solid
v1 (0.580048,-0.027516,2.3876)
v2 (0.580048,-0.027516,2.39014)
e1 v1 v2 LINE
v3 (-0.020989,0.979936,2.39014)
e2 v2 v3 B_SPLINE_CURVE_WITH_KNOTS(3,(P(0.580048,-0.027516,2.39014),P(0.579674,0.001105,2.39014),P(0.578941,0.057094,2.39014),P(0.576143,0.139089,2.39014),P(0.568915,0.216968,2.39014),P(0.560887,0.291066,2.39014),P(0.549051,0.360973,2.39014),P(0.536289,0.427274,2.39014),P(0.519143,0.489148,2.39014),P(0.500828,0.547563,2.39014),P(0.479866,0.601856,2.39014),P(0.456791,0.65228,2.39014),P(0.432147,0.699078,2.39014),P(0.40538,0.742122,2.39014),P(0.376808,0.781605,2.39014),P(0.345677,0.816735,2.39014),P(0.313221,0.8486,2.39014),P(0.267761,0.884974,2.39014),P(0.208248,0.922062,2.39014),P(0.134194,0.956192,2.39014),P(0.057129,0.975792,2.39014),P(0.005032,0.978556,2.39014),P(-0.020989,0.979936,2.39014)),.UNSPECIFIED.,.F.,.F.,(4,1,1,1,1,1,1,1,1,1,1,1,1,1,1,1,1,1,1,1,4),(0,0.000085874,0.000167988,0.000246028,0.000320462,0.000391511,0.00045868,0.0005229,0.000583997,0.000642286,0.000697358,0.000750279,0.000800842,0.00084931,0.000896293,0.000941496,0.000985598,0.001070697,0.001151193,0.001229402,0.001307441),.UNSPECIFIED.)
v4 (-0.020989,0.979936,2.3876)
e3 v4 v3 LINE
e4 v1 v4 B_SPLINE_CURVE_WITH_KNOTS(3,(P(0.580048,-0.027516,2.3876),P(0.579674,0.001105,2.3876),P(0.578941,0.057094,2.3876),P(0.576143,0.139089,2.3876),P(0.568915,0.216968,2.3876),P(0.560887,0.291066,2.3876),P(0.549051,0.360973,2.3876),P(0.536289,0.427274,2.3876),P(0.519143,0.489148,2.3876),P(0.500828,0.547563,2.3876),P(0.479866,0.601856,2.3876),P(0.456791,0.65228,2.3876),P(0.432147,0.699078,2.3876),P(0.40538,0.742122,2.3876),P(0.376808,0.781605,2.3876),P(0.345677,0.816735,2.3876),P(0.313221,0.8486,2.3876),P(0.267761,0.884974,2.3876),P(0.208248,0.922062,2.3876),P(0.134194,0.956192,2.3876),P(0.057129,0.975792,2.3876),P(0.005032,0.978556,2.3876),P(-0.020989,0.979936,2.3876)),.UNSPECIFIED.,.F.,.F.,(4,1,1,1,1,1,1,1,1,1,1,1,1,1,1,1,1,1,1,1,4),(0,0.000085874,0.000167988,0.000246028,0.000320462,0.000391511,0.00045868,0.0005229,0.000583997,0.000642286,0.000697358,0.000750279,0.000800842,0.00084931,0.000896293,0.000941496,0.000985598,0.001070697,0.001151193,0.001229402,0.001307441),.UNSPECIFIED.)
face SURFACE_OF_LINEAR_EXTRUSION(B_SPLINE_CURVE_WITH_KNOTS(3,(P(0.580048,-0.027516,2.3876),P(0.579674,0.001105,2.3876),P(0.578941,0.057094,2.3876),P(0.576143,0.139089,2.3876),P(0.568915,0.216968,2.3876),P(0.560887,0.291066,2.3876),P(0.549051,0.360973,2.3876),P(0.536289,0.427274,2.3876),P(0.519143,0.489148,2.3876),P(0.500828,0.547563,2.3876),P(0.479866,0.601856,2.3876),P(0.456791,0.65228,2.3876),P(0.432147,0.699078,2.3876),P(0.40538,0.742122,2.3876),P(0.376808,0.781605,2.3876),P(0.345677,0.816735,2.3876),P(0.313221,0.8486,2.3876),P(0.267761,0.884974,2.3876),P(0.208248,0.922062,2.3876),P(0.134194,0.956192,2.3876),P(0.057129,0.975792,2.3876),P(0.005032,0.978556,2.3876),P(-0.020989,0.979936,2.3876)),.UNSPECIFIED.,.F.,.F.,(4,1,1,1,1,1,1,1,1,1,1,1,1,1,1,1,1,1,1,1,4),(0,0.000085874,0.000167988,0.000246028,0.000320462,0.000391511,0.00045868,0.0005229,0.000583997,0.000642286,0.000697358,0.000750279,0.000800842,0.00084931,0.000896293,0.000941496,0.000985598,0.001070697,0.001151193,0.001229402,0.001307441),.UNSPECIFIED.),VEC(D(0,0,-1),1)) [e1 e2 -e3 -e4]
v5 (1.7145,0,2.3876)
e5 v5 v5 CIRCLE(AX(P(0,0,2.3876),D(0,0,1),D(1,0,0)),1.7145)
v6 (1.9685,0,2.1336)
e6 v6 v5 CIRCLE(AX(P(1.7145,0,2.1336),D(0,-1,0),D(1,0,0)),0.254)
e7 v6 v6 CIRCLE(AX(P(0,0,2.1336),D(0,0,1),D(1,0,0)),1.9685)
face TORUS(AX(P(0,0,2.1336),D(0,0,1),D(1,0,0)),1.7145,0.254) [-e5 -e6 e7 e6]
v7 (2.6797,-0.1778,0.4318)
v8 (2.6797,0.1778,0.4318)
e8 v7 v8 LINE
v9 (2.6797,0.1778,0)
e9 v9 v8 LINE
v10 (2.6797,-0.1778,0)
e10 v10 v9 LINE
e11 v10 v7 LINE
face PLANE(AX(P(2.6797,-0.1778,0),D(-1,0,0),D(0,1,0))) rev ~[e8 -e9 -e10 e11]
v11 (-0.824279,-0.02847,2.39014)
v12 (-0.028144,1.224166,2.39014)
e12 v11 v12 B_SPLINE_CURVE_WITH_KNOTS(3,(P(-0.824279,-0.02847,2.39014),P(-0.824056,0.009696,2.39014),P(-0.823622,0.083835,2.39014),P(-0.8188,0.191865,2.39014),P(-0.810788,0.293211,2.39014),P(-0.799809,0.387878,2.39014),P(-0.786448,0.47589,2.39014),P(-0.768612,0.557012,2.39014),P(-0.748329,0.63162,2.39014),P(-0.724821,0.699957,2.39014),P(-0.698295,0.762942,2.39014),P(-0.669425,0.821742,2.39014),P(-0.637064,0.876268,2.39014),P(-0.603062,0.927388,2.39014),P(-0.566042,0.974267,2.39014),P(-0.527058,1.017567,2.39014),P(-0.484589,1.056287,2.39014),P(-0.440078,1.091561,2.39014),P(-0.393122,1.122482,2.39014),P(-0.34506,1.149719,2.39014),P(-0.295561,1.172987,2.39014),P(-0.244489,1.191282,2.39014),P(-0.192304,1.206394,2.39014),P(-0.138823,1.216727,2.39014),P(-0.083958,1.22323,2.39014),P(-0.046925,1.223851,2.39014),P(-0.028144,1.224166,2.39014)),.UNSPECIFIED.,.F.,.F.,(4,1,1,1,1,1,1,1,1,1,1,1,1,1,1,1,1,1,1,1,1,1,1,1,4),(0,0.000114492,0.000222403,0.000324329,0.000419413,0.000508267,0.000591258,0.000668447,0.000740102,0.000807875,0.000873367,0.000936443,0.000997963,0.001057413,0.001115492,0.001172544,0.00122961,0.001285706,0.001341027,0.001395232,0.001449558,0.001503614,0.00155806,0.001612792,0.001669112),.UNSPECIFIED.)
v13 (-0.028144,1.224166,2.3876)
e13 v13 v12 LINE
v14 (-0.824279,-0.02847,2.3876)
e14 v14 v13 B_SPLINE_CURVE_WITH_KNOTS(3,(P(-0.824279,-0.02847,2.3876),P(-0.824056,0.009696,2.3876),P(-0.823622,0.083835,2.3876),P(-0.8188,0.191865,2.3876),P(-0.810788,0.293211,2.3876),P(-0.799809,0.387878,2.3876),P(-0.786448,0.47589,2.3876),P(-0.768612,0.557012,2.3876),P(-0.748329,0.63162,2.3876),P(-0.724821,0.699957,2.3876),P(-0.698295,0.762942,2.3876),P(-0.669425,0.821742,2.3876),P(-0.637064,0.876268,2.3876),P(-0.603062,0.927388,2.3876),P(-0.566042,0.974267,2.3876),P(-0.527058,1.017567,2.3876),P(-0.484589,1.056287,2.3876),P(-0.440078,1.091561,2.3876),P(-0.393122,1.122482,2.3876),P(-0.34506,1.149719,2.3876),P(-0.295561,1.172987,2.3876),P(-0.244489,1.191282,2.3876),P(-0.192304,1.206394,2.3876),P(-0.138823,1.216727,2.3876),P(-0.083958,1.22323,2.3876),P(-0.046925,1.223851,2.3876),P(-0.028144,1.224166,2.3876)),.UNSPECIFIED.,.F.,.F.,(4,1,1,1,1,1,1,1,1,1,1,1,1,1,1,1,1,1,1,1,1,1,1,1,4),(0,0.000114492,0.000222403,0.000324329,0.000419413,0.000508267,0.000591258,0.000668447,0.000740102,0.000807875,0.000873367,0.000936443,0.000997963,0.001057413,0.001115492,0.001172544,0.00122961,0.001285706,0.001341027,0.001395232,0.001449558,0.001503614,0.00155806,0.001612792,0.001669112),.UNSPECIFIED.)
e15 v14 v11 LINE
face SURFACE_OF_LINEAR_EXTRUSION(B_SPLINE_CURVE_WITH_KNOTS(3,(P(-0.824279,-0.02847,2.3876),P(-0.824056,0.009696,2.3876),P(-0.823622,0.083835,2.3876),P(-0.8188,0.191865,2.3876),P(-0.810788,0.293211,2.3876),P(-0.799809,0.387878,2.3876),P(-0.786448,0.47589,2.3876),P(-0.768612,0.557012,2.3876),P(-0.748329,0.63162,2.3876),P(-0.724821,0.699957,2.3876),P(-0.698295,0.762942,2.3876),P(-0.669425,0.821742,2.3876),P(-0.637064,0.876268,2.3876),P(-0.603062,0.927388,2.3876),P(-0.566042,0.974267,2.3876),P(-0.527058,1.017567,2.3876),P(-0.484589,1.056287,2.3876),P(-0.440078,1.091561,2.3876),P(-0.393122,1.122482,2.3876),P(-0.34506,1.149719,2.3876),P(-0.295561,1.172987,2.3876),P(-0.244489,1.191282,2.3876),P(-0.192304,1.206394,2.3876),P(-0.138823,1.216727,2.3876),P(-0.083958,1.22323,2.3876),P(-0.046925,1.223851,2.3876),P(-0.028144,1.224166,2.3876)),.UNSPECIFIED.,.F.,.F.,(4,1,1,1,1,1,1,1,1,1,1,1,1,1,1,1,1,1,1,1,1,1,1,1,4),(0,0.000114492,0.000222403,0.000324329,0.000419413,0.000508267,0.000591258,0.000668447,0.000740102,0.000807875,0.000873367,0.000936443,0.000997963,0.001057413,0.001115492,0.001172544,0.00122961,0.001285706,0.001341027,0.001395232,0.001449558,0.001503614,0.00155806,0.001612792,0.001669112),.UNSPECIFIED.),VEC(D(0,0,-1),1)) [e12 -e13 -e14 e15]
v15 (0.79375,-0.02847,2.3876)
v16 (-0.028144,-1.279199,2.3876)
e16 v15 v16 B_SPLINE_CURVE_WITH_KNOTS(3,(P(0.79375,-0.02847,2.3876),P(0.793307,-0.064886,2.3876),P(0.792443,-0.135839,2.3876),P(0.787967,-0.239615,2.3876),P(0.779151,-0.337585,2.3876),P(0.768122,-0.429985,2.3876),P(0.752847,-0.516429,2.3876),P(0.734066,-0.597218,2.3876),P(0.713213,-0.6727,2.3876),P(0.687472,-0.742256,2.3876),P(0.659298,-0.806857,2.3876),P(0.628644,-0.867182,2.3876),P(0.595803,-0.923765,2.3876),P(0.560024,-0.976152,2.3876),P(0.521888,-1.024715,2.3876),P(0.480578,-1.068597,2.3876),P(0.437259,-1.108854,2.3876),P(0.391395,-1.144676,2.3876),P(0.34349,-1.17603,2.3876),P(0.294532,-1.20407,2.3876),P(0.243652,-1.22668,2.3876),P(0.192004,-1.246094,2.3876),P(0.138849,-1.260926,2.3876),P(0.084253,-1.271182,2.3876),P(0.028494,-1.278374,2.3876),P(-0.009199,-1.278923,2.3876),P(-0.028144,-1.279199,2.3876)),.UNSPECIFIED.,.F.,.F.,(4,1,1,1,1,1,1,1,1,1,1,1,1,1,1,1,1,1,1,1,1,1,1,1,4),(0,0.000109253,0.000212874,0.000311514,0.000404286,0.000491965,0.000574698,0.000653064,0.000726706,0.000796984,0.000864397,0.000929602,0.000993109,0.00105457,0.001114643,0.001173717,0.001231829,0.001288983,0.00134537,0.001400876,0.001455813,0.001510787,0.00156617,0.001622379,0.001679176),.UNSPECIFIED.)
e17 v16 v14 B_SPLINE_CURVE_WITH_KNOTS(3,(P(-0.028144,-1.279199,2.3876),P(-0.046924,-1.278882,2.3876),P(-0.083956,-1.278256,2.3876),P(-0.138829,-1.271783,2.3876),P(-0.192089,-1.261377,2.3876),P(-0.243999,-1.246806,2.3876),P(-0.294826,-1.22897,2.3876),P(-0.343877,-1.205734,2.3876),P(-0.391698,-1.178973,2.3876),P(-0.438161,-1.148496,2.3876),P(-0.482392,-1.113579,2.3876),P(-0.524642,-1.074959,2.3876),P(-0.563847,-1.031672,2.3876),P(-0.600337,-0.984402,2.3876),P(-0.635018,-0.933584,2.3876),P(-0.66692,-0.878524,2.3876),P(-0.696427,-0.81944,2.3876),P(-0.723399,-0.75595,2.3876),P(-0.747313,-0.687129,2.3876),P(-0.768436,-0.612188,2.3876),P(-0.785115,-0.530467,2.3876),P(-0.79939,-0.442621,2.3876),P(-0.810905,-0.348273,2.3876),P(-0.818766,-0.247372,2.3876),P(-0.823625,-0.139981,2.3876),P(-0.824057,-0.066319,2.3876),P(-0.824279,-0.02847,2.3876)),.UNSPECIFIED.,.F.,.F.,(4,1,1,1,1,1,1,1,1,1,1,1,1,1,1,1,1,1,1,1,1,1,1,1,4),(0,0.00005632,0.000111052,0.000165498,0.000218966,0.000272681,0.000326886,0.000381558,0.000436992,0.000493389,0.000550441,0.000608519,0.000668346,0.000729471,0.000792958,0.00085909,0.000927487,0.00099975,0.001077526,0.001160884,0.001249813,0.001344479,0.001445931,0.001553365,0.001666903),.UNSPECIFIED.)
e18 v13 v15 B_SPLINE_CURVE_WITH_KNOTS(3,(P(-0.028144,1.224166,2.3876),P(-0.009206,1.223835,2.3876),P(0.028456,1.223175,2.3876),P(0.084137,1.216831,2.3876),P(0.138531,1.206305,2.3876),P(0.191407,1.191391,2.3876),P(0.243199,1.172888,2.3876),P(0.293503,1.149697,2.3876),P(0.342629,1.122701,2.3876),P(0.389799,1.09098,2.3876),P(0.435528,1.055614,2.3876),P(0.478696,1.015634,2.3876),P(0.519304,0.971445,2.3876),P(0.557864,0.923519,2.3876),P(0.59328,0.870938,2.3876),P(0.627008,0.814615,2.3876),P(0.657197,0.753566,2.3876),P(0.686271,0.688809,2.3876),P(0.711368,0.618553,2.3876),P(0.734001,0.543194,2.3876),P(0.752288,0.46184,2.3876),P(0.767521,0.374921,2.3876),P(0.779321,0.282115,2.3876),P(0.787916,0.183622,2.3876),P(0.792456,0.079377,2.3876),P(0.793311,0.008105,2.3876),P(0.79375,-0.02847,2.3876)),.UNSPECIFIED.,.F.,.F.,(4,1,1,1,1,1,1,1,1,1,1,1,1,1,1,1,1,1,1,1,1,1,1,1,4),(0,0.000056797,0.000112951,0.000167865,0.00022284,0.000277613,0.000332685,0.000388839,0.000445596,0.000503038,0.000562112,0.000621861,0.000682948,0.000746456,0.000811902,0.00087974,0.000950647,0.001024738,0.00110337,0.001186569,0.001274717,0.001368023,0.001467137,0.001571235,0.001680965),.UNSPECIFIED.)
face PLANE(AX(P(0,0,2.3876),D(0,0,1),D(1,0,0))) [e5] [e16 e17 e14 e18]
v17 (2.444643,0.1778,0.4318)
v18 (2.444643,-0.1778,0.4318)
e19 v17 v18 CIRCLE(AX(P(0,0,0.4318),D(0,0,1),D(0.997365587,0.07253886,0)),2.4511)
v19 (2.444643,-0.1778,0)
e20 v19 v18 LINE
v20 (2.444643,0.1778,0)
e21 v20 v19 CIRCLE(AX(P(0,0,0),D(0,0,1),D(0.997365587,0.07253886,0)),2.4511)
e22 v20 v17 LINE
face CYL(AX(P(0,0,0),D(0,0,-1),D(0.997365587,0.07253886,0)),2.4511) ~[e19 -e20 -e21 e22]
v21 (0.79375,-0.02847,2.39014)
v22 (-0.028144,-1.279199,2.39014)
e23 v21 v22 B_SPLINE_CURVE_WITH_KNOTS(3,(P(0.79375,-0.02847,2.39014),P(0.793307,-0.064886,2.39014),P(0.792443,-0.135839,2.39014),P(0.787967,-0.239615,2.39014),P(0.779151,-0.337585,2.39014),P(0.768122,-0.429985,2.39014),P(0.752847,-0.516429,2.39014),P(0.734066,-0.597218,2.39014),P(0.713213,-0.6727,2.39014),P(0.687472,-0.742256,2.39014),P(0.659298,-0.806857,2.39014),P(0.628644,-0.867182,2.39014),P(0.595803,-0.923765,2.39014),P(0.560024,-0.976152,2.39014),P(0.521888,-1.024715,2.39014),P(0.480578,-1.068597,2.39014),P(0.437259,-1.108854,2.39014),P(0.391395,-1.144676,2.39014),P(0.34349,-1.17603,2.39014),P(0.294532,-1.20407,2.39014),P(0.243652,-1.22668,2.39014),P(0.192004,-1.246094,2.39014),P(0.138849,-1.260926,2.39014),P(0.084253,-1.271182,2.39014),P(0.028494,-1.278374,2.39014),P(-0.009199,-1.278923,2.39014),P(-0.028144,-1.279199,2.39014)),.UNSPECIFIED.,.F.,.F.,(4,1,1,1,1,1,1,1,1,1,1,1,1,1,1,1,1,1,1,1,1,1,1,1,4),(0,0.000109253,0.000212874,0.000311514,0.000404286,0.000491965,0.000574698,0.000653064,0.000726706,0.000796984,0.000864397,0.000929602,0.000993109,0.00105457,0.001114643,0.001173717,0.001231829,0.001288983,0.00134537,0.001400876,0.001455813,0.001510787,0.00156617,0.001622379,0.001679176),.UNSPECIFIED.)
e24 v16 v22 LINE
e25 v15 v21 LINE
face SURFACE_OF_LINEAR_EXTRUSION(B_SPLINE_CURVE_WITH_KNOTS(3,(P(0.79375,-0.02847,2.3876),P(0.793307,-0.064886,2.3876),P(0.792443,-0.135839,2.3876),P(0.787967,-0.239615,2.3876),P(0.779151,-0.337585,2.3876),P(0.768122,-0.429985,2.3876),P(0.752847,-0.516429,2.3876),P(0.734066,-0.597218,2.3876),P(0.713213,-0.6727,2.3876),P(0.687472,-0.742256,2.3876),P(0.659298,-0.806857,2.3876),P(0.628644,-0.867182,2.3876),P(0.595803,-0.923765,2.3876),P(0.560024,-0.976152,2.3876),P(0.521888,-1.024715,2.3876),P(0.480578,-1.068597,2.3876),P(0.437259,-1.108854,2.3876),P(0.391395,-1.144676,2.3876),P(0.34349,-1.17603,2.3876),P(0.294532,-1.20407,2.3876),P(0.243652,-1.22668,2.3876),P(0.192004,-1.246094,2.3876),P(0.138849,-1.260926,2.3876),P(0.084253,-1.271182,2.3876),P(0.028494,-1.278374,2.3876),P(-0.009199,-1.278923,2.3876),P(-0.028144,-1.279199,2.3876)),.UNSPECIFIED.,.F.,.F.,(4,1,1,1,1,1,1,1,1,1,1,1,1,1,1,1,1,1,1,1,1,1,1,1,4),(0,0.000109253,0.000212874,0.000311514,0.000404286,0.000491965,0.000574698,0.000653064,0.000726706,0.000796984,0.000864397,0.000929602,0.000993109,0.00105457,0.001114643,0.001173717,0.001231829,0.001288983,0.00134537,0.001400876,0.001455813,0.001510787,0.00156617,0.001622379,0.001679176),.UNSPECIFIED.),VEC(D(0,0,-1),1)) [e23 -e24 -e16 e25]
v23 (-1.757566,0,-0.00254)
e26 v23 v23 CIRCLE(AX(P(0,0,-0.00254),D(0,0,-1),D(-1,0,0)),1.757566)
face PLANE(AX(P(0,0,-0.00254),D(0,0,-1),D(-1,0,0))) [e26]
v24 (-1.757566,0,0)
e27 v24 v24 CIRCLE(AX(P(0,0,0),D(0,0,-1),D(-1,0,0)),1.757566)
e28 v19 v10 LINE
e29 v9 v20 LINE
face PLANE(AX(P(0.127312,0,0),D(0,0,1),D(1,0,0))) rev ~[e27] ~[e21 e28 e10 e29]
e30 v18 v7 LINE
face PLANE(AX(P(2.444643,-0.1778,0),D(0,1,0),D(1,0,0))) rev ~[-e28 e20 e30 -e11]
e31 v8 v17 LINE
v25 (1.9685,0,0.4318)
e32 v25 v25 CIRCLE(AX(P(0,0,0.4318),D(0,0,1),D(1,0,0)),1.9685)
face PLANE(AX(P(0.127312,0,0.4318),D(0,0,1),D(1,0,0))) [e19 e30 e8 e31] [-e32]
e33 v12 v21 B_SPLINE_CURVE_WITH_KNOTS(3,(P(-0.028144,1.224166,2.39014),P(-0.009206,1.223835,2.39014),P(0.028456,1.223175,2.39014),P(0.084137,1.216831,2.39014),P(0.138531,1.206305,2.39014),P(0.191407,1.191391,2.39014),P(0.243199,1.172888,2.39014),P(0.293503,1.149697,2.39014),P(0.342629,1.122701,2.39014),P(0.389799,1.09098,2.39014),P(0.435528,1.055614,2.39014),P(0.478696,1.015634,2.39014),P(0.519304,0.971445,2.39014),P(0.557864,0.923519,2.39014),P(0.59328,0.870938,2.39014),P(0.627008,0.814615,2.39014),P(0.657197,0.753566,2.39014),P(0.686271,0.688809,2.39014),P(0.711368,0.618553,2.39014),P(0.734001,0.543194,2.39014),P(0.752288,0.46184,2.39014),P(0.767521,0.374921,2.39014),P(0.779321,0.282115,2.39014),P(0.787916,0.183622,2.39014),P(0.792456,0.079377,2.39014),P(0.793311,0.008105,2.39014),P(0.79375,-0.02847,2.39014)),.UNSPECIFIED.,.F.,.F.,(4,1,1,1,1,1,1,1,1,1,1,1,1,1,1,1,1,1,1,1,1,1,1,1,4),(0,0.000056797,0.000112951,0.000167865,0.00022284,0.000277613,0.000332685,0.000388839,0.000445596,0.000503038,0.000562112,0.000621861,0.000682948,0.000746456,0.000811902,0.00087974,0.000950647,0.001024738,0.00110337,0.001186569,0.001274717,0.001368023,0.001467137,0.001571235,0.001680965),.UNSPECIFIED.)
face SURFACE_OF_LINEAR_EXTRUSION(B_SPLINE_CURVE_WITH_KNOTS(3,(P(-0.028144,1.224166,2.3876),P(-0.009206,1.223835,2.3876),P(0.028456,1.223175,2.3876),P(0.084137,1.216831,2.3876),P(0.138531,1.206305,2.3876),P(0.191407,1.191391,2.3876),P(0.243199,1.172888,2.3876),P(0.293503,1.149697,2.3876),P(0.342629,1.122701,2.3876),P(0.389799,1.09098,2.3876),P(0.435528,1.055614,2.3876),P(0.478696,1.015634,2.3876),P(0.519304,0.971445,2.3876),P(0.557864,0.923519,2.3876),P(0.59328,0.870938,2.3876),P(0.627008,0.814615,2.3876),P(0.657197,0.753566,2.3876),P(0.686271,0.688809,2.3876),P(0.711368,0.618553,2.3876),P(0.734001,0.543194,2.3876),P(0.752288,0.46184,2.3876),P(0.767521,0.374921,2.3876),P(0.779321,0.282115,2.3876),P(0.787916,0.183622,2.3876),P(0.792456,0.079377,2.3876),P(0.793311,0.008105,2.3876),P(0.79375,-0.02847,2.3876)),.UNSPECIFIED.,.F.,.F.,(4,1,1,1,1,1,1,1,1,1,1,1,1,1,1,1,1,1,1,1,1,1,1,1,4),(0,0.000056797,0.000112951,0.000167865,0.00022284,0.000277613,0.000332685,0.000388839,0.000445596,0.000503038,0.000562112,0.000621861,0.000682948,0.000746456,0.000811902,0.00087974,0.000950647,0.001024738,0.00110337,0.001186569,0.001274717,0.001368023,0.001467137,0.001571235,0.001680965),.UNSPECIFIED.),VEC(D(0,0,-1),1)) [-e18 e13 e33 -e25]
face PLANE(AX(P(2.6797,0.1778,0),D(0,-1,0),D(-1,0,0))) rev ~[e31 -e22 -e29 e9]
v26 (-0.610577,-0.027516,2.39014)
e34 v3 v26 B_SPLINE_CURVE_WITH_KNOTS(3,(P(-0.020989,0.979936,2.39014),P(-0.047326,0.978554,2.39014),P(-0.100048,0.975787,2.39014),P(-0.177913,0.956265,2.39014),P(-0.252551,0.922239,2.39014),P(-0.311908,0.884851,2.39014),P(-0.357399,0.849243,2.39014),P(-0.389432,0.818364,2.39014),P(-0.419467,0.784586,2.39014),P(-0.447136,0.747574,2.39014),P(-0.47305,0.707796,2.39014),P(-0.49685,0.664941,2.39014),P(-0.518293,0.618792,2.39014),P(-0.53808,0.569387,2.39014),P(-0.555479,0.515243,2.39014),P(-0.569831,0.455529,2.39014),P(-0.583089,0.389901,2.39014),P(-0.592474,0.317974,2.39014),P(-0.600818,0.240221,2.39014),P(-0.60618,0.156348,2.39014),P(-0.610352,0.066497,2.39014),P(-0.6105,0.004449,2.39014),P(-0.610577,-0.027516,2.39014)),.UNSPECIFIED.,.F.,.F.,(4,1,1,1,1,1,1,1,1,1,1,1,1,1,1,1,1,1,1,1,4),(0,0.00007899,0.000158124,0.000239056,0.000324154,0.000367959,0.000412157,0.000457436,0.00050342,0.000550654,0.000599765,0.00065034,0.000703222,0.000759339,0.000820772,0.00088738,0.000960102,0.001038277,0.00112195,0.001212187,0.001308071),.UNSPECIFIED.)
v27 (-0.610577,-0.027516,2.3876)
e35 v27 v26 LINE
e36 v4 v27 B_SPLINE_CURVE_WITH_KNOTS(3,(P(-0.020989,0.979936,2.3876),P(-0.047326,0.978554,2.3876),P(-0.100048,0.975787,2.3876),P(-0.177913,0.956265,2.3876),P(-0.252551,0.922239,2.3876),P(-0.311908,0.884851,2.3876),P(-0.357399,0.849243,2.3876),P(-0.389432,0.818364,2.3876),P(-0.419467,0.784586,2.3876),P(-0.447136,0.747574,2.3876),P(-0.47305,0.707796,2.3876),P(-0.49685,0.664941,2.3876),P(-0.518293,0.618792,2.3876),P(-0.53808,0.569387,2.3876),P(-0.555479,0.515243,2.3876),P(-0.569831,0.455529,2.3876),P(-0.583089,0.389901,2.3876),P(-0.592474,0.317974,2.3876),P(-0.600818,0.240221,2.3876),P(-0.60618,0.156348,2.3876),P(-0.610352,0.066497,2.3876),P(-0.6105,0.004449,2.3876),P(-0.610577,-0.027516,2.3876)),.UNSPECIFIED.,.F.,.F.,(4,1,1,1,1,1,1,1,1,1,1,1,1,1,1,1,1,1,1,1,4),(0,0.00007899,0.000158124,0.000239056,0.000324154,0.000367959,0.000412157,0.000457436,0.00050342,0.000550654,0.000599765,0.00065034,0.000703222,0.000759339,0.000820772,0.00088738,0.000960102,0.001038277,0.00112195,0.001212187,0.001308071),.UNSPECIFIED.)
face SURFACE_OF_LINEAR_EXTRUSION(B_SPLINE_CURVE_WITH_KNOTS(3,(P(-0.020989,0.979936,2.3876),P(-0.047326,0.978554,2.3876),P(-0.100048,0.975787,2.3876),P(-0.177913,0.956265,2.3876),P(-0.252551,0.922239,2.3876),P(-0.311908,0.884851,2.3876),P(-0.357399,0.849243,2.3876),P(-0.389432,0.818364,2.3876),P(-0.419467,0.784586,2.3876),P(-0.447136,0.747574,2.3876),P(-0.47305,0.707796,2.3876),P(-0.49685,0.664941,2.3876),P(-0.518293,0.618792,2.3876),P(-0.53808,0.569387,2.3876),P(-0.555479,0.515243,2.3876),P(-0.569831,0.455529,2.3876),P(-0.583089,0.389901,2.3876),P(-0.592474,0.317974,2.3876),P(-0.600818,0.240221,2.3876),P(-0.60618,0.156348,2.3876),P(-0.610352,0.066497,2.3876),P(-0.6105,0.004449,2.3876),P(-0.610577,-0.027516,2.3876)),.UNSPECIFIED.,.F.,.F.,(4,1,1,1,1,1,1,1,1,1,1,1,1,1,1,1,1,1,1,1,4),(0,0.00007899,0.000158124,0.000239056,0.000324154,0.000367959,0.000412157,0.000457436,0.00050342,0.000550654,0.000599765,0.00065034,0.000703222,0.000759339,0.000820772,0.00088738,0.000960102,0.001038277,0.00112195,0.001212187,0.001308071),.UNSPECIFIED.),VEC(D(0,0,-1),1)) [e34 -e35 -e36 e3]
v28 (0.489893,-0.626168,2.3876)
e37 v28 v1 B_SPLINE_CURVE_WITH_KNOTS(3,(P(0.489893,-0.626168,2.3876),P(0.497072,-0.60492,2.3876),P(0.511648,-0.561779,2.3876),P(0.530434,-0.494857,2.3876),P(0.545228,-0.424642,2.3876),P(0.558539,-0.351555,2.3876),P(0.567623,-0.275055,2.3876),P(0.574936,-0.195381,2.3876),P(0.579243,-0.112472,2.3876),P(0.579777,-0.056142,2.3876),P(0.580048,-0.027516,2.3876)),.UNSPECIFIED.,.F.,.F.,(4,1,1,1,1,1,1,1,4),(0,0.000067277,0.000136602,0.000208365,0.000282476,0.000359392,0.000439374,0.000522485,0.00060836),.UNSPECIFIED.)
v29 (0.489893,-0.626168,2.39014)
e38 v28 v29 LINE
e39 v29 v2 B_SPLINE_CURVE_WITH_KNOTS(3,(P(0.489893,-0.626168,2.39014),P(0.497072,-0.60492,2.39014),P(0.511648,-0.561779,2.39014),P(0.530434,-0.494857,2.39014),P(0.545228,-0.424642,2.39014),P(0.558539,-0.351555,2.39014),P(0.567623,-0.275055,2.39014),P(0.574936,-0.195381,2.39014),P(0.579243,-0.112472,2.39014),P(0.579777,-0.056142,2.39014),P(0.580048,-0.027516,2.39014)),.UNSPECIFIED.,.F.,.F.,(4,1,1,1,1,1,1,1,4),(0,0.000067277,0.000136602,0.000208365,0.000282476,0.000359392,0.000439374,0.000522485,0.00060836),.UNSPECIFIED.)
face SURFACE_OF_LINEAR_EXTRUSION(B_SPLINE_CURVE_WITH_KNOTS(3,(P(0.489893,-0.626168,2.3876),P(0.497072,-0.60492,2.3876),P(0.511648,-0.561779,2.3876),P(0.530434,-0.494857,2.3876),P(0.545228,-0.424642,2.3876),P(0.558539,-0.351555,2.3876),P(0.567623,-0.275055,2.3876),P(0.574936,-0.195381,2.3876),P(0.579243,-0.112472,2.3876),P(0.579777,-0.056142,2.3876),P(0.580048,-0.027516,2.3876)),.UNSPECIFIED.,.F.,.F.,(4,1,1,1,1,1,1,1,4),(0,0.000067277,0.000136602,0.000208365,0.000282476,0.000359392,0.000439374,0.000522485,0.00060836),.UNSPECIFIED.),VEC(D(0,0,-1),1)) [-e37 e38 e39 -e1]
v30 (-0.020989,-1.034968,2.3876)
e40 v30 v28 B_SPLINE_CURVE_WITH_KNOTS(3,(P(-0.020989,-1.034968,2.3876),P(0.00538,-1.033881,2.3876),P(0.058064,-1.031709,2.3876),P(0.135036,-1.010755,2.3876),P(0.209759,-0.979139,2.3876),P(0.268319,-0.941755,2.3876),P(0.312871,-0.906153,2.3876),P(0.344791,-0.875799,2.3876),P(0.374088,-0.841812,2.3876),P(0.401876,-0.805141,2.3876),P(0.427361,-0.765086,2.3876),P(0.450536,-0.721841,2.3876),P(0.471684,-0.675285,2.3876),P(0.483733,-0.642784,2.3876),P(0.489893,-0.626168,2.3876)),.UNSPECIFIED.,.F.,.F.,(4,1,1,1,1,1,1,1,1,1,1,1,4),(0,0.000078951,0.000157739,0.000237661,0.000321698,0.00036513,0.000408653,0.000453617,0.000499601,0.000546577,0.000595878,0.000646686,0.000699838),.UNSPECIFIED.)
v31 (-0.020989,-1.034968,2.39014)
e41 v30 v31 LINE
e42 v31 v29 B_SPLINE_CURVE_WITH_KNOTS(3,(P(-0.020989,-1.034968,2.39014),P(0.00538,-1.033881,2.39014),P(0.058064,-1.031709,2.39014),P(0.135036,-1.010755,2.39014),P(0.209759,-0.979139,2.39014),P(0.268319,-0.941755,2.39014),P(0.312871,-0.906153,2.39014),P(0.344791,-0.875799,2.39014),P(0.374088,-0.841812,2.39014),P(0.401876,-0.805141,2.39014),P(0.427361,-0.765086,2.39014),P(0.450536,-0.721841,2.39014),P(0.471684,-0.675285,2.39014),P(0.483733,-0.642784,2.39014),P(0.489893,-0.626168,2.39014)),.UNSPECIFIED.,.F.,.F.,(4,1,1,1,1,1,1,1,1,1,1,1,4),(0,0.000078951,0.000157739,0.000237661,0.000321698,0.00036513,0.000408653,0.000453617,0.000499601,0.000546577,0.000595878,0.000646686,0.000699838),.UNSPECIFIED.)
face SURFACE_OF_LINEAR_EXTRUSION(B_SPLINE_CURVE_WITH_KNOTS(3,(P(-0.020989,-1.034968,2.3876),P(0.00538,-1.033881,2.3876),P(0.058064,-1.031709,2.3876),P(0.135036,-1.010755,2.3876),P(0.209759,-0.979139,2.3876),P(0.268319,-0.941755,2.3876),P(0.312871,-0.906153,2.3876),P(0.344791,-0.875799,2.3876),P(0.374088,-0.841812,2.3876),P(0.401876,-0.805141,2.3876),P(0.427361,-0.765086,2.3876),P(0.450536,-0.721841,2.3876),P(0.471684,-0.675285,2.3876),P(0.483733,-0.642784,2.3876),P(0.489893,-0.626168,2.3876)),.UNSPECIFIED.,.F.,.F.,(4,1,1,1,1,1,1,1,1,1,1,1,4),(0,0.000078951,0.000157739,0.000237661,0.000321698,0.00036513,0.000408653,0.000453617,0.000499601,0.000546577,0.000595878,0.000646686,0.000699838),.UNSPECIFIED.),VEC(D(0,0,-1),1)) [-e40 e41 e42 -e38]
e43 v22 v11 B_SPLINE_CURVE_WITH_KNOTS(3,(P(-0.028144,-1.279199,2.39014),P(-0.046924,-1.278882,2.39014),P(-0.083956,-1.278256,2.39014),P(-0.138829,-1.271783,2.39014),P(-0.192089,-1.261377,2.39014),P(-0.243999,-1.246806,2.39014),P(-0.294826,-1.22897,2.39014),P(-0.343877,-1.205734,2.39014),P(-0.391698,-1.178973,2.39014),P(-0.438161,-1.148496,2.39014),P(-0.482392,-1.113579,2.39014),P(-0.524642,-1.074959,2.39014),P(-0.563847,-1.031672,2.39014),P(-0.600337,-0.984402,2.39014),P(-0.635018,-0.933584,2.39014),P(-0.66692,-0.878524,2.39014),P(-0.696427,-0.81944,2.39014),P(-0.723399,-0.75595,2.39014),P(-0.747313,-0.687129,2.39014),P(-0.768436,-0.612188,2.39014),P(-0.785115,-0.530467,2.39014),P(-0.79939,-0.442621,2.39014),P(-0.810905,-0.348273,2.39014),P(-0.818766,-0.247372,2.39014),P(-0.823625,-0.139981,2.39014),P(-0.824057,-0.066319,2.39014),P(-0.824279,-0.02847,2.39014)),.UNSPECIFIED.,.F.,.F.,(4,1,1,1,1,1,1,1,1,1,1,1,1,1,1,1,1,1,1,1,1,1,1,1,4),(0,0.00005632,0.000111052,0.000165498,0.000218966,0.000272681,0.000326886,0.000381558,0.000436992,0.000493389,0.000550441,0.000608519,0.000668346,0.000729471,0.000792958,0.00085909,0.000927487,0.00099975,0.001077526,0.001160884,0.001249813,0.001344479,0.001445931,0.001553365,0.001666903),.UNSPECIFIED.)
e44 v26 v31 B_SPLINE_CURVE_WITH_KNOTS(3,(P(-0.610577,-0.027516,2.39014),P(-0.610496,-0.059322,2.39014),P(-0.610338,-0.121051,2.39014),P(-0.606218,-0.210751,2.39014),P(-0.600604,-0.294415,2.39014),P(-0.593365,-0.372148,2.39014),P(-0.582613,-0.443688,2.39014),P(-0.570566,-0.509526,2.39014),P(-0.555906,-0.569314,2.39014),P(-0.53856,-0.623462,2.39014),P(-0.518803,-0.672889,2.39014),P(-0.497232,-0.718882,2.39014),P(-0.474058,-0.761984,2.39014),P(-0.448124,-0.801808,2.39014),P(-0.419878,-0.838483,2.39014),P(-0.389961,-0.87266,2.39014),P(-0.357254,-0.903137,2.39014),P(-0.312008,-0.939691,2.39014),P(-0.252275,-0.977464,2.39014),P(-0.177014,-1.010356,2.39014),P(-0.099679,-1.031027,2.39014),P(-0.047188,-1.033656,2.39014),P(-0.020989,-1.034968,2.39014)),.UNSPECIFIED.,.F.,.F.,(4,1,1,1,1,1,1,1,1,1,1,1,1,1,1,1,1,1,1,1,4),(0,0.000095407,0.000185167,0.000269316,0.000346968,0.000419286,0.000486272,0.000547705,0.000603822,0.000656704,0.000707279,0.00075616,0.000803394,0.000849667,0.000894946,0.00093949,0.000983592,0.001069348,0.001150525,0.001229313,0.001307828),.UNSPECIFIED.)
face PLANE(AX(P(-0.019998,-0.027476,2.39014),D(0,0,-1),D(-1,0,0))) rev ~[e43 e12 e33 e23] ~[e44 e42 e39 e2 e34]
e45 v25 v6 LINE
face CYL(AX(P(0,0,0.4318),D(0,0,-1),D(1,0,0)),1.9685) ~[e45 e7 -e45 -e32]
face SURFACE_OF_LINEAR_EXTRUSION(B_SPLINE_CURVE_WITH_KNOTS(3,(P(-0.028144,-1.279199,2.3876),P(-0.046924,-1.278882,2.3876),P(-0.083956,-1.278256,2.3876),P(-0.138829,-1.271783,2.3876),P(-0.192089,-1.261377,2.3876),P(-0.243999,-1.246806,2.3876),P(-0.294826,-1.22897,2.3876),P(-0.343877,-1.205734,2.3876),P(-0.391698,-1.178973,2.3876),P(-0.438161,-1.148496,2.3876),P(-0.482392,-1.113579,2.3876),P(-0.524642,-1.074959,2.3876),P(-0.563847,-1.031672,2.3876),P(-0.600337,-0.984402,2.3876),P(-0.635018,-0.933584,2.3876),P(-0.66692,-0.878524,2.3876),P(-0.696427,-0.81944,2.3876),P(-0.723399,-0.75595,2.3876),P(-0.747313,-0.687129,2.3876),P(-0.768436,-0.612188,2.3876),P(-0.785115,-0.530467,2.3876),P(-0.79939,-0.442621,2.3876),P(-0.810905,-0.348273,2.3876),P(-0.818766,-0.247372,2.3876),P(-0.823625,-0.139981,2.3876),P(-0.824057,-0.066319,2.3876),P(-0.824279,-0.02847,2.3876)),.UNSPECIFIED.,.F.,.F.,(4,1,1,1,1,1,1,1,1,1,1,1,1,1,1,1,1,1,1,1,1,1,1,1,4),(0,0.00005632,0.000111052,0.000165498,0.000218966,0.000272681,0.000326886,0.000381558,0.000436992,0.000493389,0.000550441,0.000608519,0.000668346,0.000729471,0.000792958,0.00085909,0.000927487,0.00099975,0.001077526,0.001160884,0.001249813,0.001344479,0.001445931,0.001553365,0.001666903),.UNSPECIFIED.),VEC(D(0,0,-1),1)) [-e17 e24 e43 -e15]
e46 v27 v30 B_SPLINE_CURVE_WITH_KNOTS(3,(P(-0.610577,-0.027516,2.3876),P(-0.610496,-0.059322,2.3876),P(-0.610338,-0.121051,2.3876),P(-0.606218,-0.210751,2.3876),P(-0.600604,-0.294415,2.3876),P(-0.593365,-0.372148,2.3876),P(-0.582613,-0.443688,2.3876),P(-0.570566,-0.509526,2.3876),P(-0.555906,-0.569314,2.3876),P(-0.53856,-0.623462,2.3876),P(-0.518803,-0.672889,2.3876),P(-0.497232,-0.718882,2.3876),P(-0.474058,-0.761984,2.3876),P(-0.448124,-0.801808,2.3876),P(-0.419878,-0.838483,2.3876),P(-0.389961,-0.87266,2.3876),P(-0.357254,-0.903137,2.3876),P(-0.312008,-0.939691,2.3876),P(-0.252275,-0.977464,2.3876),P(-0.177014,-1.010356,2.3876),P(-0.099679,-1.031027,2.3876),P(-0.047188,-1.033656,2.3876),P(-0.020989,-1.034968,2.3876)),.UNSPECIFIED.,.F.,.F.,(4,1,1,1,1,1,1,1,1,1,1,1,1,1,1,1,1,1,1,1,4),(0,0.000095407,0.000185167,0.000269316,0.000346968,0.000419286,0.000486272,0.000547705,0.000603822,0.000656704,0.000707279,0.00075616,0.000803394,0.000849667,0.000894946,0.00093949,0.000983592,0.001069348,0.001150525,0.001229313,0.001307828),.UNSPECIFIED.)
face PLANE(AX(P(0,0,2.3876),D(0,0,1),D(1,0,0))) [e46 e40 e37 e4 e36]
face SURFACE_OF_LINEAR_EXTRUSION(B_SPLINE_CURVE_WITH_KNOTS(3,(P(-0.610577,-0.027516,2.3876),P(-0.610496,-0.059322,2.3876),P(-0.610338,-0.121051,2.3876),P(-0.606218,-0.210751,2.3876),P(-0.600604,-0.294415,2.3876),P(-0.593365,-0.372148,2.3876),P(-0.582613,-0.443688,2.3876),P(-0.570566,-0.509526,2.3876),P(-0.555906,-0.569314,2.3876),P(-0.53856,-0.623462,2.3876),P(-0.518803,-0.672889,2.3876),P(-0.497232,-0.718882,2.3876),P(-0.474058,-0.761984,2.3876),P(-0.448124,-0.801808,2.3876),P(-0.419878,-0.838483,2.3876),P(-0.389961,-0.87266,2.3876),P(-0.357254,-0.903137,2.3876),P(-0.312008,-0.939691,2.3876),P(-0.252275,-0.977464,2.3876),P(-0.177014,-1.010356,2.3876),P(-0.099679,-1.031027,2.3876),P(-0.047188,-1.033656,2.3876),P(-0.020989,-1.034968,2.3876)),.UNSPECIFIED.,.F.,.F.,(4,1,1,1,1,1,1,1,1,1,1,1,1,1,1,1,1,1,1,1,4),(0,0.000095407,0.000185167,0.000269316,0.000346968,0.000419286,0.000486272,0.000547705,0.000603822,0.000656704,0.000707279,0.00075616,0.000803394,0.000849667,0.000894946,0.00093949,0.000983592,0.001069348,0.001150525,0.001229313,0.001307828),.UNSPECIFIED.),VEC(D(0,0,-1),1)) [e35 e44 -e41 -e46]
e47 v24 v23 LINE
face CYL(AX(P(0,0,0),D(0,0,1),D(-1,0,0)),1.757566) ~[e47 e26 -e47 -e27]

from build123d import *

# Parameters (mm, degrees)
BOSS_EXTRUDE1_DEPTH = 0.4318
SKETCH2_R           = 1.9685
BOSS_EXTRUDE2_DEPTH = 1.9558
SKETCH3_R           = 1.757566481
BOSS_EXTRUDE3_DEPTH = 0.00254
FILLET1_R           = 0.254
BOSS_EXTRUDE6_DEPTH = 0.00254


with BuildPart() as part:
    # Sketch1 → Boss-Extrude1 (new body)
    with BuildSketch(Plane.XY):
        with BuildLine():
            Line((2.6797, 0.1778), (2.4511, 0.1778))
            Line((2.4511, 0.1778), (2.44464279, 0.1778))
            ThreePointArc((2.44464279, 0.1778), (-2.4511, 0), (2.44464279, -0.1778))
            Line((2.44464279, -0.1778), (2.4511, -0.1778))
            Line((2.4511, -0.1778), (2.6797, -0.1778))
            Line((2.6797, -0.1778), (2.6797, 0.1778))
        make_face()
    extrude(amount=BOSS_EXTRUDE1_DEPTH)

    # Sketch2 → Boss-Extrude2 (add)
    with BuildSketch(Plane.XY.offset(0.4318)):
        Circle(SKETCH2_R)
    extrude(amount=BOSS_EXTRUDE2_DEPTH)

    # Sketch3 → Boss-Extrude3 (add)
    with BuildSketch(Plane(origin=(0, 0, 0), x_dir=(-1, 0, 0), z_dir=(0, 0, -1))):
        Circle(SKETCH3_R)
    extrude(amount=BOSS_EXTRUDE3_DEPTH)

    # Fillet1
    fillet1_edges = [part.edges().sort_by_distance(p)[0] for p in [
        (-1.9685, 0, 2.3876),
    ]]
    fillet(fillet1_edges, radius=FILLET1_R)

    # Sketch4 → Boss-Extrude6 (add)
    with BuildSketch(Plane.XY.offset(2.3876)):
        with BuildLine():
            add(Edge.make_bspline(
                [(-0.824278846, -0.028470233), (-0.824055677, 0.009696025), (-0.823622167, 0.083834532), (-0.818799509, 0.191864798), (-0.810788071, 0.293210994), (-0.799808894, 0.387877973), (-0.786448054, 0.475890174), (-0.76861216, 0.557012392), (-0.748328807, 0.631620089), (-0.724820804, 0.699956554), (-0.698295183, 0.762942456), (-0.66942473, 0.821742459), (-0.637063683, 0.876267595), (-0.603061533, 0.927388127), (-0.566041892, 0.974267248), (-0.52705825, 1.017566988), (-0.484589081, 1.056286624), (-0.44007807, 1.091560626), (-0.393122225, 1.122482499), (-0.345059983, 1.149719058), (-0.295560527, 1.172987182), (-0.244488713, 1.191282282), (-0.19230358, 1.206393591), (-0.138822701, 1.2167275), (-0.083957773, 1.22322961), (-0.046924957, 1.223851231), (-0.02814378, 1.224166485)],
                knots=[0, 0, 0, 0, 0.000114492, 0.000222403, 0.000324329, 0.000419413, 0.000508267, 0.000591258, 0.000668447, 0.000740102, 0.000807875, 0.000873367, 0.000936443, 0.000997963, 0.001057413, 0.001115492, 0.001172544, 0.00122961, 0.001285706, 0.001341027, 0.001395232, 0.001449558, 0.001503614, 0.00155806, 0.001612792, 0.001669112, 0.001669112, 0.001669112, 0.001669112], degree=3))
            add(Edge.make_bspline(
                [(-0.02814378, 1.224166485), (-0.009205713, 1.223834597), (0.028456143, 1.223174575), (0.084136826, 1.216830964), (0.138531164, 1.206305075), (0.191407254, 1.191390983), (0.243199433, 1.17288821), (0.293502596, 1.149696797), (0.342629199, 1.122700996), (0.389798556, 1.090980108), (0.435528499, 1.055613595), (0.478695774, 1.015633994), (0.519304309, 0.971444988), (0.557863758, 0.923519363), (0.593280156, 0.870937904), (0.627007794, 0.814615143), (0.657196626, 0.753566108), (0.686271467, 0.688809397), (0.711367792, 0.618553229), (0.73400072, 0.543193633), (0.752288018, 0.461840481), (0.76752072, 0.374920607), (0.779321443, 0.282114802), (0.787916152, 0.183622005), (0.792456233, 0.079377418), (0.793311238, 0.008104667), (0.79375, -0.028470233)],
                knots=[0, 0, 0, 0, 5.6797e-05, 0.000112951, 0.000167865, 0.00022284, 0.000277613, 0.000332685, 0.000388839, 0.000445596, 0.000503038, 0.000562112, 0.000621861, 0.000682948, 0.000746456, 0.000811902, 0.00087974, 0.000950647, 0.001024738, 0.00110337, 0.001186569, 0.001274717, 0.001368023, 0.001467137, 0.001571235, 0.001680965, 0.001680965, 0.001680965, 0.001680965], degree=3))
            add(Edge.make_bspline(
                [(0.79375, -0.028470233), (0.79330669, -0.064885606), (0.792442918, -0.135839476), (0.787967048, -0.239615014), (0.779150551, -0.337585112), (0.768121969, -0.42998473), (0.752847296, -0.516429288), (0.734065924, -0.597217922), (0.713212758, -0.672699514), (0.687471586, -0.742255698), (0.659297513, -0.806856781), (0.628643889, -0.867182109), (0.595803168, -0.92376489), (0.560024039, -0.976152218), (0.521887699, -1.024715197), (0.480577918, -1.068596615), (0.437259181, -1.108853805), (0.391394662, -1.144675715), (0.34348966, -1.176029841), (0.294531788, -1.204069979), (0.243652379, -1.22668008), (0.192004459, -1.246094099), (0.138849268, -1.260926192), (0.084253062, -1.271181798), (0.028493552, -1.27837443), (-0.009199299, -1.278923125), (-0.02814378, -1.279198899)],
                knots=[0, 0, 0, 0, 0.000109253, 0.000212874, 0.000311514, 0.000404286, 0.000491965, 0.000574698, 0.000653064, 0.000726706, 0.000796984, 0.000864397, 0.000929602, 0.000993109, 0.00105457, 0.001114643, 0.001173717, 0.001231829, 0.001288983, 0.00134537, 0.001400876, 0.001455813, 0.001510787, 0.00156617, 0.001622379, 0.001679176, 0.001679176, 0.001679176, 0.001679176], degree=3))
            add(Edge.make_bspline(
                [(-0.02814378, -1.279198899), (-0.046924436, -1.278881611), (-0.083956224, -1.27825598), (-0.138828678, -1.271783245), (-0.192088698, -1.26137684), (-0.2439991, -1.246805901), (-0.294826211, -1.22897045), (-0.343877435, -1.205733747), (-0.391698162, -1.178972532), (-0.43816081, -1.148495647), (-0.482392298, -1.113578574), (-0.524641528, -1.074958584), (-0.563847121, -1.031671942), (-0.600337461, -0.984402141), (-0.635018046, -0.93358406), (-0.666919566, -0.878523863), (-0.696427237, -0.819439873), (-0.723398969, -0.755950366), (-0.747312613, -0.687128888), (-0.768436143, -0.612188108), (-0.785114525, -0.530466577), (-0.799390429, -0.442620654), (-0.810905054, -0.348272855), (-0.818766121, -0.247371959), (-0.823624766, -0.139980844), (-0.824056841, -0.066318729), (-0.824278846, -0.028470233)],
                knots=[0, 0, 0, 0, 5.632e-05, 0.000111052, 0.000165498, 0.000218966, 0.000272681, 0.000326886, 0.000381558, 0.000436992, 0.000493389, 0.000550441, 0.000608519, 0.000668346, 0.000729471, 0.000792958, 0.00085909, 0.000927487, 0.00099975, 0.001077526, 0.001160884, 0.001249813, 0.001344479, 0.001445931, 0.001553365, 0.001666903, 0.001666903, 0.001666903, 0.001666903], degree=3))
        make_face()
        with BuildLine():
            add(Edge.make_bspline(
                [(-0.610576923, -0.027516207), (-0.610495656, -0.059322018), (-0.610337934, -0.121050852), (-0.606217554, -0.210751356), (-0.60060445, -0.294415098), (-0.593364568, -0.372148308), (-0.582612919, -0.44368787), (-0.570565979, -0.509525815), (-0.555905582, -0.569313721), (-0.538559865, -0.623461856), (-0.518802908, -0.672889169), (-0.497231597, -0.718882139), (-0.474058141, -0.761984081), (-0.448123505, -0.80180784), (-0.419878435, -0.838483283), (-0.389960914, -0.87265955), (-0.357254388, -0.903137496), (-0.312008092, -0.939690945), (-0.252275133, -0.977463785), (-0.177013716, -1.010356392), (-0.099678574, -1.031027313), (-0.04718817, -1.033656047), (-0.020988582, -1.03496813)],
                knots=[0, 0, 0, 0, 9.5407e-05, 0.000185167, 0.000269316, 0.000346968, 0.000419286, 0.000486272, 0.000547705, 0.000603822, 0.000656704, 0.000707279, 0.00075616, 0.000803394, 0.000849667, 0.000894946, 0.00093949, 0.000983592, 0.001069348, 0.001150525, 0.001229313, 0.001307828, 0.001307828, 0.001307828, 0.001307828], degree=3))
            add(Edge.make_bspline(
                [(-0.020988582, -1.03496813), (0.005380477, -1.033881068), (0.058064152, -1.03170919), (0.135035538, -1.010755049), (0.209759347, -0.979139166), (0.268319006, -0.941755238), (0.312870522, -0.906153285), (0.344790832, -0.87579939), (0.374088404, -0.841811559), (0.401875601, -0.805140788), (0.427361151, -0.765086473), (0.45053625, -0.721841221), (0.471684027, -0.675284941), (0.483732503, -0.642784458), (0.489892578, -0.626167799)],
                knots=[0, 0, 0, 0, 7.8951e-05, 0.000157739, 0.000237661, 0.000321698, 0.00036513, 0.000408653, 0.000453617, 0.000499601, 0.000546577, 0.000595878, 0.000646686, 0.000699838, 0.000699838, 0.000699838, 0.000699838], degree=3))
            add(Edge.make_bspline(
                [(0.489892578, -0.626167799), (0.497071549, -0.604920423), (0.511647938, -0.561779137), (0.530433806, -0.494856724), (0.545228443, -0.424641986), (0.558538519, -0.351554541), (0.567623366, -0.275055387), (0.574935717, -0.195381222), (0.579242845, -0.112471974), (0.579776756, -0.05614181), (0.580048077, -0.027516207)],
                knots=[0, 0, 0, 0, 6.7277e-05, 0.000136602, 0.000208365, 0.000282476, 0.000359392, 0.000439374, 0.000522485, 0.00060836, 0.00060836, 0.00060836, 0.00060836], degree=3))
            add(Edge.make_bspline(
                [(0.580048077, -0.027516207), (0.579673752, 0.001104767), (0.578941492, 0.057093509), (0.576142511, 0.139088914), (0.568914686, 0.216967873), (0.560887071, 0.291065891), (0.549050748, 0.360972793), (0.53628874, 0.427273804), (0.519142915, 0.489147541), (0.500827854, 0.547562721), (0.479865781, 0.601855666), (0.456790969, 0.65227951), (0.432147237, 0.699077689), (0.405380462, 0.742121804), (0.376808399, 0.781604659), (0.345676924, 0.816734625), (0.313220913, 0.84860049), (0.267761364, 0.884974131), (0.208247606, 0.922061553), (0.134193692, 0.956192186), (0.0571292, 0.975792113), (0.005031904, 0.978555511), (-0.020988582, 0.979935716)],
                knots=[0, 0, 0, 0, 8.5874e-05, 0.000167988, 0.000246028, 0.000320462, 0.000391511, 0.00045868, 0.0005229, 0.000583997, 0.000642286, 0.000697358, 0.000750279, 0.000800842, 0.00084931, 0.000896293, 0.000941496, 0.000985598, 0.001070697, 0.001151193, 0.001229402, 0.001307441, 0.001307441, 0.001307441, 0.001307441], degree=3))
            add(Edge.make_bspline(
                [(-0.020988582, 0.979935716), (-0.04732561, 0.978553607), (-0.100047645, 0.975786871), (-0.177913128, 0.956265211), (-0.252551268, 0.922238532), (-0.311907649, 0.884851293), (-0.357398903, 0.849242549), (-0.38943195, 0.818363551), (-0.419467114, 0.784586367), (-0.447135674, 0.747573635), (-0.47304999, 0.707796305), (-0.496849572, 0.664941449), (-0.518292612, 0.618791896), (-0.538080484, 0.569386785), (-0.555479113, 0.515243322), (-0.569830542, 0.45552906), (-0.583088697, 0.389900523), (-0.592474407, 0.3179735), (-0.600818141, 0.240220821), (-0.606180272, 0.156348217), (-0.610351717, 0.066497272), (-0.610500351, 0.004449274), (-0.610576923, -0.027516207)],
                knots=[0, 0, 0, 0, 7.899e-05, 0.000158124, 0.000239056, 0.000324154, 0.000367959, 0.000412157, 0.000457436, 0.00050342, 0.000550654, 0.000599765, 0.00065034, 0.000703222, 0.000759339, 0.000820772, 0.00088738, 0.000960102, 0.001038277, 0.00112195, 0.001212187, 0.001308071, 0.001308071, 0.001308071, 0.001308071], degree=3))
        make_face(mode=Mode.SUBTRACT)
    extrude(amount=BOSS_EXTRUDE6_DEPTH)


solid = part.part
